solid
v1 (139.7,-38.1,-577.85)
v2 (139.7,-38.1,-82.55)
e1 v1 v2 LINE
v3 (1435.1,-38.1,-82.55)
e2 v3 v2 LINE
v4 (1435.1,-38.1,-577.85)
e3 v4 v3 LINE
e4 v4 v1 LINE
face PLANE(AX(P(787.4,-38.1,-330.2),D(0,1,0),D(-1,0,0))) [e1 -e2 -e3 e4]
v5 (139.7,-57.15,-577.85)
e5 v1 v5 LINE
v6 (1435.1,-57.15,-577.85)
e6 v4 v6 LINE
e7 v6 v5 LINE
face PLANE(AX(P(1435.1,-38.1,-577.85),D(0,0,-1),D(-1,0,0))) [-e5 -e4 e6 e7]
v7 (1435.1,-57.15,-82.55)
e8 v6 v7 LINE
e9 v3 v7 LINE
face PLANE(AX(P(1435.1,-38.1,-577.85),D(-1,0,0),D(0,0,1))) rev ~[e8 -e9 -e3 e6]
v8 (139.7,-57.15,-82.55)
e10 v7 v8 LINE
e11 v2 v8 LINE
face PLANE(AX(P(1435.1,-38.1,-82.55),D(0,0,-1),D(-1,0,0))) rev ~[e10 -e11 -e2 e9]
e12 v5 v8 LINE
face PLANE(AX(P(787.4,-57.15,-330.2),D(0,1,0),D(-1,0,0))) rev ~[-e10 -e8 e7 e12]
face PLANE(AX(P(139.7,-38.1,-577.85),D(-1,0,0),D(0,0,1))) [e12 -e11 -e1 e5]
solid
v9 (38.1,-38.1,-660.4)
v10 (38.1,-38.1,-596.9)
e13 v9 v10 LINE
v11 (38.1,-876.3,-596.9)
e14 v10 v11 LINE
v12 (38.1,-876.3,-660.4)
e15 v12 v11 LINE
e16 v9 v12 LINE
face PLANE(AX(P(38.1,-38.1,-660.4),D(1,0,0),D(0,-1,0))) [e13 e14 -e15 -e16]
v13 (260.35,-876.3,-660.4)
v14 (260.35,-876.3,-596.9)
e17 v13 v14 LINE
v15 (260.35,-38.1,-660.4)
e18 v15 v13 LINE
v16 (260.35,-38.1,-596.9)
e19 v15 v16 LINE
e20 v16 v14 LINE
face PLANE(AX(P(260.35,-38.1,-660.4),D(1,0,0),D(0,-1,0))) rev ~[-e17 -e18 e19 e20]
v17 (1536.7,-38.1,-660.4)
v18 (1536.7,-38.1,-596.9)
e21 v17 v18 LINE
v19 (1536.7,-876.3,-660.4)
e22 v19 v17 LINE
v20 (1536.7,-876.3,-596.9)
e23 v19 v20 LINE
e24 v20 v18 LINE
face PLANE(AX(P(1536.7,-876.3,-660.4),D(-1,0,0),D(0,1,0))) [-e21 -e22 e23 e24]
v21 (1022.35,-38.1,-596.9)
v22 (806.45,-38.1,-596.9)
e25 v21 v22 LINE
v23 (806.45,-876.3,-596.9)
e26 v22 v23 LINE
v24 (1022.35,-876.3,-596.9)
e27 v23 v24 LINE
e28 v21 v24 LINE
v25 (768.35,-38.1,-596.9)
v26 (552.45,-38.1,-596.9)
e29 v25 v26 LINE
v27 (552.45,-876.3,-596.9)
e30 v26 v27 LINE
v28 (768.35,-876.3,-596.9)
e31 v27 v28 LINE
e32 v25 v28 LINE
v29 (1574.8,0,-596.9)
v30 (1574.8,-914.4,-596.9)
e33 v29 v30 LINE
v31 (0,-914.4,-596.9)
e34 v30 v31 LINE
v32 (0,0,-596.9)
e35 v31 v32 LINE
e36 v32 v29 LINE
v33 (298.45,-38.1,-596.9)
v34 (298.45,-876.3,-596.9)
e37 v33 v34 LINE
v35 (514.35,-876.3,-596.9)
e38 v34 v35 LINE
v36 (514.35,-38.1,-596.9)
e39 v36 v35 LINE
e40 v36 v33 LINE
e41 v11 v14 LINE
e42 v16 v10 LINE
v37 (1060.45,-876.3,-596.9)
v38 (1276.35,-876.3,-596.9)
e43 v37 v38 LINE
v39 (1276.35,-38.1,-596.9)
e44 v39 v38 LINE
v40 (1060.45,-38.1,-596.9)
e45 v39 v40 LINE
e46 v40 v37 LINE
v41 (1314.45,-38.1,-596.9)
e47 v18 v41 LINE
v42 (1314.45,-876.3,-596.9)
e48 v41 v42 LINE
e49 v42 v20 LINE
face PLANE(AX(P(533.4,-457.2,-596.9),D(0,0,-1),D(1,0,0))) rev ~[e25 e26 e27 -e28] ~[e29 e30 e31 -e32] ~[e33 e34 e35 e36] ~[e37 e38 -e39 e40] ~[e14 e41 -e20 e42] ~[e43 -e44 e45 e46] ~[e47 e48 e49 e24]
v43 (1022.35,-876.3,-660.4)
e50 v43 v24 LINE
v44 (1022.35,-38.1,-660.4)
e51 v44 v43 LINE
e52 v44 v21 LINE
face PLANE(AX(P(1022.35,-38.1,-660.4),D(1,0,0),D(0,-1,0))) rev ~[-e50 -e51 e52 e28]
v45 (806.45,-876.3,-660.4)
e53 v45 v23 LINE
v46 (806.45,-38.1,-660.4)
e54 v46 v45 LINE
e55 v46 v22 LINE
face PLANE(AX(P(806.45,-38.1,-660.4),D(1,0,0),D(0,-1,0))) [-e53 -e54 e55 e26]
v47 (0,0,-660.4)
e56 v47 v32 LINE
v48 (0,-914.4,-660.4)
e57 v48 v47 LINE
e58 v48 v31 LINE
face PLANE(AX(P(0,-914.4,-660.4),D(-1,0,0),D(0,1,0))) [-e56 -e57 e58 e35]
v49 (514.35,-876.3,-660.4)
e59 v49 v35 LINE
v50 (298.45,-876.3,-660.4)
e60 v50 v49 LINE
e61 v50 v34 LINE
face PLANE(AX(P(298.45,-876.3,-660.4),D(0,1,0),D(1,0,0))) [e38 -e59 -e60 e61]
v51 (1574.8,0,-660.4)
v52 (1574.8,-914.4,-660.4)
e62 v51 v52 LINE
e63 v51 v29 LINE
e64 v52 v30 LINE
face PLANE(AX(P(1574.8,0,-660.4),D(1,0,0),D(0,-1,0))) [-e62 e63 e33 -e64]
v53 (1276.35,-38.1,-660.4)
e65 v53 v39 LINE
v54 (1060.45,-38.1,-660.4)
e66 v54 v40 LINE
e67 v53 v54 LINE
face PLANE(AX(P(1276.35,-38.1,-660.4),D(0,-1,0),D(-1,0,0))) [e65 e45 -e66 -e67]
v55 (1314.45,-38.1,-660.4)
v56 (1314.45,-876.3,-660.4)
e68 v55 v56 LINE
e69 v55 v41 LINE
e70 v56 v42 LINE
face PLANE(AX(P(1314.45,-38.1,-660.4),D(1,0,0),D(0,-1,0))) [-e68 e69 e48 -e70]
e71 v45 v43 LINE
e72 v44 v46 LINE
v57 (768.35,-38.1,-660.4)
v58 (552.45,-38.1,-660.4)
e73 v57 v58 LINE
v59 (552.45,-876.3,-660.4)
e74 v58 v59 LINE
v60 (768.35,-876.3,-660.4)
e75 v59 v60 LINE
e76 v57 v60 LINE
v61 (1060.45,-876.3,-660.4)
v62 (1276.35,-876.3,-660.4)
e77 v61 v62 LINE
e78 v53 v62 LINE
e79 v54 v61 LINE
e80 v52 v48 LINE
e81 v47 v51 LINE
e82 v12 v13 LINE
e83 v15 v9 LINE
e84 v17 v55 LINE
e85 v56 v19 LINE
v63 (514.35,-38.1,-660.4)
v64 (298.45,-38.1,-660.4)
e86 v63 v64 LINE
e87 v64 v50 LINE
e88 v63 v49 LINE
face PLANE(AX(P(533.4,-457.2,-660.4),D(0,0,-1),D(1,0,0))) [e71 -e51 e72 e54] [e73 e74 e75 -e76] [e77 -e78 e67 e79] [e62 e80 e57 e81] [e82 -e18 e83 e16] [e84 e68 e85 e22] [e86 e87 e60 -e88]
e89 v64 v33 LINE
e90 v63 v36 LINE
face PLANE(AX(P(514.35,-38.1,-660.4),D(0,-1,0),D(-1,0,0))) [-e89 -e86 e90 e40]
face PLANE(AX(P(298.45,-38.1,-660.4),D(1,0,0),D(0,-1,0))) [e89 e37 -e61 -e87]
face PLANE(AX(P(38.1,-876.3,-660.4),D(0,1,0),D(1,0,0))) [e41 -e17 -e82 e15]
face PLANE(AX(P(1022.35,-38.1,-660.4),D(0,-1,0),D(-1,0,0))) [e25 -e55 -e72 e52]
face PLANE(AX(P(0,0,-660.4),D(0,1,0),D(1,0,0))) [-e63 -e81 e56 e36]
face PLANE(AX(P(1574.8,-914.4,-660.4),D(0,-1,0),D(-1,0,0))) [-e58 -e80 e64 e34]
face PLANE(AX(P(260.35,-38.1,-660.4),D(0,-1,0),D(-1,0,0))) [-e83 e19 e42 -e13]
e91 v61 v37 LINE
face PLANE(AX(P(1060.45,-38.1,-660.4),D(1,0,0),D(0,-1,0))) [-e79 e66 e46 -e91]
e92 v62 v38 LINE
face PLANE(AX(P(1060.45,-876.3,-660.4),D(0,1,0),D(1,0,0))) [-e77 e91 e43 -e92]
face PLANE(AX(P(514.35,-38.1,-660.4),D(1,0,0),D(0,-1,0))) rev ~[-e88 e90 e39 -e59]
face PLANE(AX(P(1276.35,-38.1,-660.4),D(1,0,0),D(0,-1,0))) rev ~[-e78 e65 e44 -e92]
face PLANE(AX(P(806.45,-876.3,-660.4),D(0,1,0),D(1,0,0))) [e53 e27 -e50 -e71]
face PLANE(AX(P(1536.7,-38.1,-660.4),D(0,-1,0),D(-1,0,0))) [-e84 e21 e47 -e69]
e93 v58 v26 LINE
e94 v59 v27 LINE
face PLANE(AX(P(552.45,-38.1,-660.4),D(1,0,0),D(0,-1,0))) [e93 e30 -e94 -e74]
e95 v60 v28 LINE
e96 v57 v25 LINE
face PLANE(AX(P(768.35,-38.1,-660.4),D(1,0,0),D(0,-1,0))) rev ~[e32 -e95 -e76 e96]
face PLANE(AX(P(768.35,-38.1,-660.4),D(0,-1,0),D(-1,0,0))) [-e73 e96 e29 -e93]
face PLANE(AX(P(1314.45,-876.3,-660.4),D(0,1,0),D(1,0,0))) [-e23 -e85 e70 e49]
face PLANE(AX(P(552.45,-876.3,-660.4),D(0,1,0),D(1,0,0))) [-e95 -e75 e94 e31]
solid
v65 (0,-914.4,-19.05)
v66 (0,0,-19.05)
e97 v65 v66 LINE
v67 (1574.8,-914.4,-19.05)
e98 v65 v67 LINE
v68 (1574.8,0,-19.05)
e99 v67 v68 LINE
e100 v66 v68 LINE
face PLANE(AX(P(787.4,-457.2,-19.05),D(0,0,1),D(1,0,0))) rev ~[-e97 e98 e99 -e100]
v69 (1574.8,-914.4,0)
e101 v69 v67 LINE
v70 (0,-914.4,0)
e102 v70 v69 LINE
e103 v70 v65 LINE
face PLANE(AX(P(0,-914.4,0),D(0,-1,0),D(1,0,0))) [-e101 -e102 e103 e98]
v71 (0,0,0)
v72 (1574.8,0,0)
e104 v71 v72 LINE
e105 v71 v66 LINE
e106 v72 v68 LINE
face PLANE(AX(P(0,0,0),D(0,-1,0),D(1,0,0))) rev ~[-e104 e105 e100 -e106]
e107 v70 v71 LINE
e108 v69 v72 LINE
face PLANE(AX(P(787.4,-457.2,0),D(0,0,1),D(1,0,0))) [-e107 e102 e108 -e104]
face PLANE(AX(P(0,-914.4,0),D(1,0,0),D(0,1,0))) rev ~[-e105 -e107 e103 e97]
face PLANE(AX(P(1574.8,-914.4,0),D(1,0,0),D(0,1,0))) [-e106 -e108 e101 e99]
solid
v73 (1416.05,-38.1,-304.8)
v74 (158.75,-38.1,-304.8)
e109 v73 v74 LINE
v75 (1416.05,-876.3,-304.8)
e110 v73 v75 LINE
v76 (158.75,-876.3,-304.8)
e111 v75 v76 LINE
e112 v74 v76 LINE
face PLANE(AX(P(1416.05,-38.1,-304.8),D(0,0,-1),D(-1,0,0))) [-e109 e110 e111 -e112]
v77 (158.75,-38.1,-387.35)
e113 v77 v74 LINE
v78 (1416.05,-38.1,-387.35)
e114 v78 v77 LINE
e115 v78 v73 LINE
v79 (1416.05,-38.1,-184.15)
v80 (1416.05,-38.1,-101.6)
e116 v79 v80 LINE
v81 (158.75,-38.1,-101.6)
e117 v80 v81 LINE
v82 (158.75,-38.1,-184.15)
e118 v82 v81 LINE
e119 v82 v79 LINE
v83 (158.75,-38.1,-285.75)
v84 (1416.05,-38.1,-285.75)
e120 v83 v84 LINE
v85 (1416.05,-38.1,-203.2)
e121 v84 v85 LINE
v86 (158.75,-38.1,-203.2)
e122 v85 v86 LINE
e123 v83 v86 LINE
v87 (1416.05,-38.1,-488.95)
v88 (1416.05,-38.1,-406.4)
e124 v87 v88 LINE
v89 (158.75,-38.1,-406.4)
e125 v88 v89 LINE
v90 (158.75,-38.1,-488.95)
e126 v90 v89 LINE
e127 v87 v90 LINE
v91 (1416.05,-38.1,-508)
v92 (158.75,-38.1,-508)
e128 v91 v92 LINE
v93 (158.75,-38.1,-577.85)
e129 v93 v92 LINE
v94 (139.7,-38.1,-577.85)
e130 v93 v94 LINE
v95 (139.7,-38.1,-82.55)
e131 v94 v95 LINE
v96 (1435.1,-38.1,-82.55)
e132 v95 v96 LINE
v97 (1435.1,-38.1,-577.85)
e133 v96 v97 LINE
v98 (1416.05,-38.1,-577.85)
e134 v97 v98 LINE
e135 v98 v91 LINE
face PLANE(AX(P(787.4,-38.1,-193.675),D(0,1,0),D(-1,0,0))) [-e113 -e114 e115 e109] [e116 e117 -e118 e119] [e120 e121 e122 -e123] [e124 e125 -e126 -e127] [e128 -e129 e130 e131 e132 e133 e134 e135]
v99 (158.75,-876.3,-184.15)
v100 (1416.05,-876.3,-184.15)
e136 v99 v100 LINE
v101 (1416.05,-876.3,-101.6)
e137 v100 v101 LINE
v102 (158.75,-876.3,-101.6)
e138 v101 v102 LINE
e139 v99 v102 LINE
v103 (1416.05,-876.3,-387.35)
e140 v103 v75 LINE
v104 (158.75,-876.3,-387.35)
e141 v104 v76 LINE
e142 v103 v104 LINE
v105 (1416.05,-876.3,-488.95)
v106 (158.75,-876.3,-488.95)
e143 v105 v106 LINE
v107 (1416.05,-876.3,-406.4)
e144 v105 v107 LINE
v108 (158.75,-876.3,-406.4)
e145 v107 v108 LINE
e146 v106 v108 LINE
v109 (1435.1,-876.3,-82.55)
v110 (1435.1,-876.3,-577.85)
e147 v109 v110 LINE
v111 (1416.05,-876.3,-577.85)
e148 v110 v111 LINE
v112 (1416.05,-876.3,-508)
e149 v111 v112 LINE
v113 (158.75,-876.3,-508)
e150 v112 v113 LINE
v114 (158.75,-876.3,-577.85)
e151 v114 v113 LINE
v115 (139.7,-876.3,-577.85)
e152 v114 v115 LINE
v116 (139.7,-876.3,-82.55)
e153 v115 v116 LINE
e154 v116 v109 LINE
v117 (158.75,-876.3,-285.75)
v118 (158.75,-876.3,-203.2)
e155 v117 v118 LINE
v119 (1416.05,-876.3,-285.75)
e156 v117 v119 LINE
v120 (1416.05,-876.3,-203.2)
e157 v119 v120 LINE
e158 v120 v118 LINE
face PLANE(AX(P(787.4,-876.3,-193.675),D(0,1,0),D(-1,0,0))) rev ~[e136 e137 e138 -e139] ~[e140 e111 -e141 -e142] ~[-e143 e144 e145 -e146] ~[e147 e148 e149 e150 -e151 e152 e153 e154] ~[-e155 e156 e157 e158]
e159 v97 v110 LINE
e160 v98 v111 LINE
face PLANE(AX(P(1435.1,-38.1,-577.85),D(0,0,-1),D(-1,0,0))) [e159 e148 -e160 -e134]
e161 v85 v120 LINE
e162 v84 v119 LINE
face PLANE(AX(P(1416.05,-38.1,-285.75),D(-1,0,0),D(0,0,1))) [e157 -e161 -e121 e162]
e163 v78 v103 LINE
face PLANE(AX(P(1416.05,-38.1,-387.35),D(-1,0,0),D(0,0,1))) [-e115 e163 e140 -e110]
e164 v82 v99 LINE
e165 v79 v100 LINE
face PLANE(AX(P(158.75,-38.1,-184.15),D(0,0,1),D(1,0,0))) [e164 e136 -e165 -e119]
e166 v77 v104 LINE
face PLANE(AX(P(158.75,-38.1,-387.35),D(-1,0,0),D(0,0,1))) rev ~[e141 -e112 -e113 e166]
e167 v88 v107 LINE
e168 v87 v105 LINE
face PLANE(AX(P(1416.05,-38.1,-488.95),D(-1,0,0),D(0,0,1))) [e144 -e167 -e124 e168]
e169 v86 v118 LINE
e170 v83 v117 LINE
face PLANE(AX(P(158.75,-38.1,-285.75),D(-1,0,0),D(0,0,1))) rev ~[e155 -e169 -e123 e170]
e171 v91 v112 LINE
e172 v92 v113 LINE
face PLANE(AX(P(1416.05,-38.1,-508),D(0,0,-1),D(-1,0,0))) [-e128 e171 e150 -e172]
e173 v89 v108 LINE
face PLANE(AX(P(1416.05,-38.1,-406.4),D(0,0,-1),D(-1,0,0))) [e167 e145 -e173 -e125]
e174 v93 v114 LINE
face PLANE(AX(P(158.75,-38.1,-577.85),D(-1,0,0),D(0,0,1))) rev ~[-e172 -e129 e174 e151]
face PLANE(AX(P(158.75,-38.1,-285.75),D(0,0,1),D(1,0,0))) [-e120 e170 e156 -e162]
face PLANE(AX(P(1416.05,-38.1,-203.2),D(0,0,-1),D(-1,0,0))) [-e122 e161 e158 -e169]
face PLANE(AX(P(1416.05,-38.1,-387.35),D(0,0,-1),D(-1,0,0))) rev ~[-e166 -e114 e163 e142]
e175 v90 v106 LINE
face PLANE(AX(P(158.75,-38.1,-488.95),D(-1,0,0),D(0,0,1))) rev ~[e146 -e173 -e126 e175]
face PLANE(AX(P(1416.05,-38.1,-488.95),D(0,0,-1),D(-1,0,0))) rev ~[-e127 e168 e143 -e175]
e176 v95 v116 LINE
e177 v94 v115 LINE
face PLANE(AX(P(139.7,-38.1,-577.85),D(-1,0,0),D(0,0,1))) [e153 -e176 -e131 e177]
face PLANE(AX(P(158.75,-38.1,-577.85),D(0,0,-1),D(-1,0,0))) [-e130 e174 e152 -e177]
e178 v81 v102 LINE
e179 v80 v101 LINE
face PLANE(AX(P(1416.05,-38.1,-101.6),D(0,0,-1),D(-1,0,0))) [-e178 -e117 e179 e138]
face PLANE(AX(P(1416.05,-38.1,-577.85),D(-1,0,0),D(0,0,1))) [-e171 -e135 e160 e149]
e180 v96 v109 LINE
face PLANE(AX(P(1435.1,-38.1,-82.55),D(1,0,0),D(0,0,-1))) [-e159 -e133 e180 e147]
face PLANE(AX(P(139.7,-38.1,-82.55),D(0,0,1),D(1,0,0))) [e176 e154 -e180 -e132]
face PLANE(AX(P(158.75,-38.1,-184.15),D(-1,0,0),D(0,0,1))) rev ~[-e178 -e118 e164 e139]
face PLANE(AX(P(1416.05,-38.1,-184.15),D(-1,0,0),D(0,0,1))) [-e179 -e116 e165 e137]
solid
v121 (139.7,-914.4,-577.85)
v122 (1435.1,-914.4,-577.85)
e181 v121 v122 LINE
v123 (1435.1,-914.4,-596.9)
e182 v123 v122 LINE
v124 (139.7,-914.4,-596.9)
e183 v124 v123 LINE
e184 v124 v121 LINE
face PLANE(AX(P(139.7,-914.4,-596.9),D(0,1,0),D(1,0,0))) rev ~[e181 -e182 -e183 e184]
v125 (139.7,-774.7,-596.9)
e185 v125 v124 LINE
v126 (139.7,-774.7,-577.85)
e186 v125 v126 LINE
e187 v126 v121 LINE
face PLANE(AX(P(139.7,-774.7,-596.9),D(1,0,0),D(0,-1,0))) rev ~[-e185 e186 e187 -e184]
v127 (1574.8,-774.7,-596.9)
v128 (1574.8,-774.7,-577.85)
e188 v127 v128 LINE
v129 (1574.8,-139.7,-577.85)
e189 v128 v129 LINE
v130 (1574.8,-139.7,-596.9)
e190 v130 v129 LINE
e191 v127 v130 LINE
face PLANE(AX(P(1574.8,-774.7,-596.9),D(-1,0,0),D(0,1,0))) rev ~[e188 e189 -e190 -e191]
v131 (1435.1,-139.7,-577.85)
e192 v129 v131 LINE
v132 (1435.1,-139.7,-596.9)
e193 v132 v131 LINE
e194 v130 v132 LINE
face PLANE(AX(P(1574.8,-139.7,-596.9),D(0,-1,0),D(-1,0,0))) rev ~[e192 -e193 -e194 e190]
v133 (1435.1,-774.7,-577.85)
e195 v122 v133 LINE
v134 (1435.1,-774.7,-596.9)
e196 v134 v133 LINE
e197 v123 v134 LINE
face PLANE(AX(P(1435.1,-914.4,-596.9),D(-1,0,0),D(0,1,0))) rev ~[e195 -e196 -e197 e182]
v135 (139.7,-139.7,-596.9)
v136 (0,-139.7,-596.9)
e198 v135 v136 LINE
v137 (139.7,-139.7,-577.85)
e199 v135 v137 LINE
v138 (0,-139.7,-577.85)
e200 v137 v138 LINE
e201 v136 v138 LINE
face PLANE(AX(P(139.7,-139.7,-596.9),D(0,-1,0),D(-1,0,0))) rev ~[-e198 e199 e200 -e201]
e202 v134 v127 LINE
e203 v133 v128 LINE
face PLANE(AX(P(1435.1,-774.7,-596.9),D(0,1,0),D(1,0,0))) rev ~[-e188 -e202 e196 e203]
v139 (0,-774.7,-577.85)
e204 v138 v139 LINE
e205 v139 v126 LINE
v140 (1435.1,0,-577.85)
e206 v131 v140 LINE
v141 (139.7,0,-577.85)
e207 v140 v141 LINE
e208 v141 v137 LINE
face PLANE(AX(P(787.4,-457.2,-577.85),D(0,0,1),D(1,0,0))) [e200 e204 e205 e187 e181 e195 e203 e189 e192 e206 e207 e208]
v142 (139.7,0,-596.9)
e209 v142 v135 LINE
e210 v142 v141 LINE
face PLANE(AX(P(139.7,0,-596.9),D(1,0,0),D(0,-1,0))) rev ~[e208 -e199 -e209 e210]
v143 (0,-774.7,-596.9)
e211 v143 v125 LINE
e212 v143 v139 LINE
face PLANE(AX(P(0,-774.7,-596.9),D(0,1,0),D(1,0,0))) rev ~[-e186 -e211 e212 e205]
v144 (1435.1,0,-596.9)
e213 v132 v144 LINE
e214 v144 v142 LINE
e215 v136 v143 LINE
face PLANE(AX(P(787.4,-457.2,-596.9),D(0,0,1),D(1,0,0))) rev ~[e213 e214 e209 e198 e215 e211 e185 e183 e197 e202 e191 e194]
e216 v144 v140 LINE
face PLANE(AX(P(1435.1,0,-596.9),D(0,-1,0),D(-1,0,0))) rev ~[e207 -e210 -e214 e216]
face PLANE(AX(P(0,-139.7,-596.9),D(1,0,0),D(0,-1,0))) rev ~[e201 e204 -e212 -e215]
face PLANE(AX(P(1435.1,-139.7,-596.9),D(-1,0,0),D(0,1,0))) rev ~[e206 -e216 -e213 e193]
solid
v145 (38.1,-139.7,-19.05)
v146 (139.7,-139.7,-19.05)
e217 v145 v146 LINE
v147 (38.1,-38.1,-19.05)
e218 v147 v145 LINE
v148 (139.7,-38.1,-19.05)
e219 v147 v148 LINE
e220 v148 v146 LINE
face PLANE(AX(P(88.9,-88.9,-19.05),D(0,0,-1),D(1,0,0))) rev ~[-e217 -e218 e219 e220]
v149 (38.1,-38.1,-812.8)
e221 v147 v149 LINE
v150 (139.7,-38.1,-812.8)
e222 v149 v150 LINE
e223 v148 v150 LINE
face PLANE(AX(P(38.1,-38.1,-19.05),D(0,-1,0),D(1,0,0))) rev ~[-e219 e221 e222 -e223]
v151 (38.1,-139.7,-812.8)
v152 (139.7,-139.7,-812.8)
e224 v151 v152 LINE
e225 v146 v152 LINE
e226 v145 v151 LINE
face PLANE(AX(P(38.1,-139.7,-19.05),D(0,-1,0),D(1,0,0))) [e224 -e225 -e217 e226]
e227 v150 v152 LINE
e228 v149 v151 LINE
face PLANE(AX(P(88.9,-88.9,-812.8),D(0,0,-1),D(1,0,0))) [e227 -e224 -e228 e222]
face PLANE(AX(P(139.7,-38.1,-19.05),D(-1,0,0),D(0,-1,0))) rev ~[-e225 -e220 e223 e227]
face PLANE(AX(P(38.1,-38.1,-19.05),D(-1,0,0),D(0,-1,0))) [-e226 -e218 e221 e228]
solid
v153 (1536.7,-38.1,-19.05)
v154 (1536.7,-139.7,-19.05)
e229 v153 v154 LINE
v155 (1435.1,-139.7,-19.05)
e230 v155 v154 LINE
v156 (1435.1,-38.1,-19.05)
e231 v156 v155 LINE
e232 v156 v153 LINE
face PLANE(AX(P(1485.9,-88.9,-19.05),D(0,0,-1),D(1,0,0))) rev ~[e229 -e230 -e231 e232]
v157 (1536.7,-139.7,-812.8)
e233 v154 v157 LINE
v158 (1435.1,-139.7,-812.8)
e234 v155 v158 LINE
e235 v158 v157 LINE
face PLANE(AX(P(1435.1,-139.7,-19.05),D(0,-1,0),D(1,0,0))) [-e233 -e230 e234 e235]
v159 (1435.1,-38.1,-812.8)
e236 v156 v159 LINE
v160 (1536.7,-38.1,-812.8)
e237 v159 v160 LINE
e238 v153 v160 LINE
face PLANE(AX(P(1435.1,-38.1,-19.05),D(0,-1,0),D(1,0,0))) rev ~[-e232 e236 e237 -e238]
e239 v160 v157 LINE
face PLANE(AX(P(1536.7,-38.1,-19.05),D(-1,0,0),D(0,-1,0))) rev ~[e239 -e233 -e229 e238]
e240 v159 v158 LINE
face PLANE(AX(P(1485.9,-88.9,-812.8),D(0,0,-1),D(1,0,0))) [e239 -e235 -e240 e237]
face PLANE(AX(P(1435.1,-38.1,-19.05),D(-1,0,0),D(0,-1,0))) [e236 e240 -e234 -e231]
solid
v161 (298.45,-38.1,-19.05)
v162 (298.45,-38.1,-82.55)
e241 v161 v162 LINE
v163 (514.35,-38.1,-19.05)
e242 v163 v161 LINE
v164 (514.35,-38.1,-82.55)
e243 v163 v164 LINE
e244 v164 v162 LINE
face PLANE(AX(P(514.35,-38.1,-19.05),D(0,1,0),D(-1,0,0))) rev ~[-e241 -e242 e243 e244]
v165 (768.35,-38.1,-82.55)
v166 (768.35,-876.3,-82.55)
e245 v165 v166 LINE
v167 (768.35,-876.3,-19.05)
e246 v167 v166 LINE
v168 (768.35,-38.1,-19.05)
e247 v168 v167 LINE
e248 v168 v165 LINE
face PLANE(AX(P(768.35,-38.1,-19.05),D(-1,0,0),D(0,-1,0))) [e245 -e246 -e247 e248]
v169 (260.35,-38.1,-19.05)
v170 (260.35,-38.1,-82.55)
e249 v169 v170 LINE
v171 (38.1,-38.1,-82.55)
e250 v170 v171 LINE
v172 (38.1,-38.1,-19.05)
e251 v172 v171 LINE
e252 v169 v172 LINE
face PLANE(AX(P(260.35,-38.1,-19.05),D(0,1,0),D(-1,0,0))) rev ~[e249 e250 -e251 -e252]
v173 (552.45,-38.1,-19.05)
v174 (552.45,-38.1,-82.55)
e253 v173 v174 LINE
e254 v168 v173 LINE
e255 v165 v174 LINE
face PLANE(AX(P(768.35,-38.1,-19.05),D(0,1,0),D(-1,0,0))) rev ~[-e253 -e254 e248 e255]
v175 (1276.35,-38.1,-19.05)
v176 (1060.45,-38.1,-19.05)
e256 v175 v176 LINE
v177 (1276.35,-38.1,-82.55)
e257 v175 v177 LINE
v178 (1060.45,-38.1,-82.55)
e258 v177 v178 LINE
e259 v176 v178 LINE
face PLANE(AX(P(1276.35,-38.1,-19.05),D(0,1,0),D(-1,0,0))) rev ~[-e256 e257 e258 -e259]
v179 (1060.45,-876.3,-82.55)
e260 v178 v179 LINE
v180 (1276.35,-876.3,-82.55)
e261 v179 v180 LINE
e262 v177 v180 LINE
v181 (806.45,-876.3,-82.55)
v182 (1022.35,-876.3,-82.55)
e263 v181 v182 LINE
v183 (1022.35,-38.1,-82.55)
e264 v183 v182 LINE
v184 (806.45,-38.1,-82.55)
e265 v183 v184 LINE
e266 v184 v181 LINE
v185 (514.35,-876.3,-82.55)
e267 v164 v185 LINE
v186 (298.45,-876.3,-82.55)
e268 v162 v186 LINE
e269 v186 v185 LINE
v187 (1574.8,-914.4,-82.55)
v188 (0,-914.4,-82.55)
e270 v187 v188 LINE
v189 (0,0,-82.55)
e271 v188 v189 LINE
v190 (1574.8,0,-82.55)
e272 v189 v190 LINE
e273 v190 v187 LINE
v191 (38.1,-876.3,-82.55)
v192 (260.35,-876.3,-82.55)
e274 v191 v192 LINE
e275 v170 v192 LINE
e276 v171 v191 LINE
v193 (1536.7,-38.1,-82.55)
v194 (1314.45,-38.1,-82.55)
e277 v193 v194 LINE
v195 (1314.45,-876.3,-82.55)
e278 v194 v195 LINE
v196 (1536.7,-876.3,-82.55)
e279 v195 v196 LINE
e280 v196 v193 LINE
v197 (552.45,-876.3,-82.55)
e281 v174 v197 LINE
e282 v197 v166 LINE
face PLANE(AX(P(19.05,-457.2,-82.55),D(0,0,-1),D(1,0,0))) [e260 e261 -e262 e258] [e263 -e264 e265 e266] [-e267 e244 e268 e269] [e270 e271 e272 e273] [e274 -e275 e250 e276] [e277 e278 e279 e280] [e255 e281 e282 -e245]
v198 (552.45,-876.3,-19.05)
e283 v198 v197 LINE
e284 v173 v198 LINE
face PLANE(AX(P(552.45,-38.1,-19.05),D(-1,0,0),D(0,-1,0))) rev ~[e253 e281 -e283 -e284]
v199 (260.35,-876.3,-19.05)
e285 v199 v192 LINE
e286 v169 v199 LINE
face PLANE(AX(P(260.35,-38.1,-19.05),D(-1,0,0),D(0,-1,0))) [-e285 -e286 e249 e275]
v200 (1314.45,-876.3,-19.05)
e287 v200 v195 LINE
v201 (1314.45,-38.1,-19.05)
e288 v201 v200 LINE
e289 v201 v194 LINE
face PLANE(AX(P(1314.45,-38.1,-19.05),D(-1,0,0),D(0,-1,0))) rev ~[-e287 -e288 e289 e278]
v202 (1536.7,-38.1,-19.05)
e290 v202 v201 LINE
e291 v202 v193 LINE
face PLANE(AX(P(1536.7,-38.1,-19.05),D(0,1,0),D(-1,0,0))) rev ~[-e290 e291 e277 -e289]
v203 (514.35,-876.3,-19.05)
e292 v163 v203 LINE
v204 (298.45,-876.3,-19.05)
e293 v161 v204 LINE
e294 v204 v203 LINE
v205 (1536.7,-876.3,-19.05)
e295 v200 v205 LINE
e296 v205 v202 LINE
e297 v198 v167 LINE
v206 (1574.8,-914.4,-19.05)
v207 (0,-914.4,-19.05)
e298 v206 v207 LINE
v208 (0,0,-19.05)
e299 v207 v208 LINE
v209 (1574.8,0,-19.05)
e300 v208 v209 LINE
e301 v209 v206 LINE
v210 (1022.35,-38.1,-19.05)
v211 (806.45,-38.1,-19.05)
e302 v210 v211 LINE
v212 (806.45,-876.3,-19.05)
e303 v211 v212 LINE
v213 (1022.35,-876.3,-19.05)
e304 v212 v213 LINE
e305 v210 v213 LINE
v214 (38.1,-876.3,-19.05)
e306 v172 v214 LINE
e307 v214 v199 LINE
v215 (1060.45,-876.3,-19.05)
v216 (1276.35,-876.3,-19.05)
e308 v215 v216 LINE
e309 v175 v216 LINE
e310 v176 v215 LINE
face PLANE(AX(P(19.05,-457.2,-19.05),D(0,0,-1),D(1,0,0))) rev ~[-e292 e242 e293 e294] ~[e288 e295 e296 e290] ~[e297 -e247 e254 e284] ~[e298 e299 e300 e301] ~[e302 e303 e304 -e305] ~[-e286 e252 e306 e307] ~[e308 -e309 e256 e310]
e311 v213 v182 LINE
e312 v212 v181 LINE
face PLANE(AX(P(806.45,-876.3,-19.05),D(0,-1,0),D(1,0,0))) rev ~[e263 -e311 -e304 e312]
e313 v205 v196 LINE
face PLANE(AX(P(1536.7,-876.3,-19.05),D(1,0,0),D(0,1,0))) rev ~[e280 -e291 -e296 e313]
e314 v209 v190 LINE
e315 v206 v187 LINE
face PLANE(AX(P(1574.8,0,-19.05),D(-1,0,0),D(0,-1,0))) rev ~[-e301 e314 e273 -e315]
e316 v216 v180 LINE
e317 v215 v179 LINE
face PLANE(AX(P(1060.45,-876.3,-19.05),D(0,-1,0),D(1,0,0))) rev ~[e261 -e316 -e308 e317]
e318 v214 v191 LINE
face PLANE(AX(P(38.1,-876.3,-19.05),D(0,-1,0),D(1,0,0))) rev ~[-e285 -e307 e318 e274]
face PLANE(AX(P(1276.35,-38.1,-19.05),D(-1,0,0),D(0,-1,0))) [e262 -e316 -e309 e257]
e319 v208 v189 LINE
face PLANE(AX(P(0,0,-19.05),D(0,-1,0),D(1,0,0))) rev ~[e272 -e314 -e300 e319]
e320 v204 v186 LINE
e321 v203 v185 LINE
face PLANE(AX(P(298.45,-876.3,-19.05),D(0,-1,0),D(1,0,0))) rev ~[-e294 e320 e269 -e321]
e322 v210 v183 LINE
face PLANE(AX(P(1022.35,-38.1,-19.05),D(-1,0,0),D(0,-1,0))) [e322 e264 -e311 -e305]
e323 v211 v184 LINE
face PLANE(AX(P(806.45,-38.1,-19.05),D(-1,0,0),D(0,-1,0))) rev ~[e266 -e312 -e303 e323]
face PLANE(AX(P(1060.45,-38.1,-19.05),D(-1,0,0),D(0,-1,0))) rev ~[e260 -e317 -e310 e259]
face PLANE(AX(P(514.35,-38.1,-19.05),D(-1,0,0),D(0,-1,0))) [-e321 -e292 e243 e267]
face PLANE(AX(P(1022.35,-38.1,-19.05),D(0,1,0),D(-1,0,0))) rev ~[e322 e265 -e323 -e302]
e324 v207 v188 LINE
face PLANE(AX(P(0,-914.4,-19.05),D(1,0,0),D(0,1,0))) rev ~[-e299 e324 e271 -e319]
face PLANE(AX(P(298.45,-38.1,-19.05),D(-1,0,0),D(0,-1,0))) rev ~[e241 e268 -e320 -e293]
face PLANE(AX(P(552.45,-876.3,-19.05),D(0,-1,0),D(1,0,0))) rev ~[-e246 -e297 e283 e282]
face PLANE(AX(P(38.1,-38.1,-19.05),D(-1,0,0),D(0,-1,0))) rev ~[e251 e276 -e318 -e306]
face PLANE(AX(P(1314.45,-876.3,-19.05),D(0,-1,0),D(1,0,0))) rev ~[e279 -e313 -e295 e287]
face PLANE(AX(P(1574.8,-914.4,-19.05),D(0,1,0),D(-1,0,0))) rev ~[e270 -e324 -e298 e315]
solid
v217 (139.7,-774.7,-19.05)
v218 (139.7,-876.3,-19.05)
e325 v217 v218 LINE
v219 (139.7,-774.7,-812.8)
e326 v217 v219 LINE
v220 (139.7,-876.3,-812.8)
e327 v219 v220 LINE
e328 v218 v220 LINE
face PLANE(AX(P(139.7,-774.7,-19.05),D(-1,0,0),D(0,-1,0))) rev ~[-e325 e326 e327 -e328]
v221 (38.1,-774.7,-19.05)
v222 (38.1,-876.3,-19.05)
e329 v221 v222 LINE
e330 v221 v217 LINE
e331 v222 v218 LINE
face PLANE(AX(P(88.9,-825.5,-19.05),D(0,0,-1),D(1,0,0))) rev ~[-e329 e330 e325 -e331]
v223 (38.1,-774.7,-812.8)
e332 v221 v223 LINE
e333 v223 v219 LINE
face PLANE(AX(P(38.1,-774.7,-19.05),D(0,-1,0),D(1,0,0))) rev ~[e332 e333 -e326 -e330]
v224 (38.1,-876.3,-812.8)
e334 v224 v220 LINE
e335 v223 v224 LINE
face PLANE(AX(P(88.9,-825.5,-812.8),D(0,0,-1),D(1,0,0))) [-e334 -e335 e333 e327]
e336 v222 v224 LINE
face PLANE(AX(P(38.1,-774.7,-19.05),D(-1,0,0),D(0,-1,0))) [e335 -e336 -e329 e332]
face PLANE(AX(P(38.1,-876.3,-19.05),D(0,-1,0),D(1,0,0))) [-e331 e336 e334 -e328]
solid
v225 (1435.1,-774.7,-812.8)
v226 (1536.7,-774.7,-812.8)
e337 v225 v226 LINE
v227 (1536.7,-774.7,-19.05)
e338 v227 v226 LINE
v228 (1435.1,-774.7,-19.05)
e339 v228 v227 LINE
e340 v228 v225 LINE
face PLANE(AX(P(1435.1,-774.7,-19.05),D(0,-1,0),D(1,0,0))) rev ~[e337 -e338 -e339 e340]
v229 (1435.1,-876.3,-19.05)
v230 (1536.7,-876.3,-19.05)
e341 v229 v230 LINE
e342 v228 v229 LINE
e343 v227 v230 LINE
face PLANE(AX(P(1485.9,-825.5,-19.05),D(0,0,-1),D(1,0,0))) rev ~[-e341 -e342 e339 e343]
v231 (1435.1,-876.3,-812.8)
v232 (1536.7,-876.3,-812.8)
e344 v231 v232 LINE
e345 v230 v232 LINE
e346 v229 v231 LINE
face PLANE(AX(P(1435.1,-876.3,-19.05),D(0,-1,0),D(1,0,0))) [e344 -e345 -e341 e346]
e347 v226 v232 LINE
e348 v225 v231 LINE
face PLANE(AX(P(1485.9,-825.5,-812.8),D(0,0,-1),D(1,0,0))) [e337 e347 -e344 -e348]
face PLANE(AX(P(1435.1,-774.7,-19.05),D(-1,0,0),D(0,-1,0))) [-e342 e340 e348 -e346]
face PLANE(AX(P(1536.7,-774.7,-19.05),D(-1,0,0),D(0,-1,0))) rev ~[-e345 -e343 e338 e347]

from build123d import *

# Parameters (mm, degrees)
F0_W      = 1574.8
F0_H      = 914.4
F1_DEPTH  = 19.05
F2_W      = 38.1
F2_H      = 838.2
F3_DEPTH  = 63.5
F4_W      = 101.6
F4_H      = 101.6
F5_DEPTH  = 793.75
F7_W      = 38.1
F7_H      = 838.2
F8_DEPTH  = 63.5
F11_DEPTH = 19.05
F13_W     = 1257.3
F13_H     = 19.05
F13_W_2   = 19.05
F13_H_2   = 82.55
F13_H_3   = 69.85
F14_DEPTH = 838.2
F15_W     = 1295.4
F15_H     = 495.3
F16_DEPTH = 19.05


with BuildPart() as f1:
    # F0 (on Top) → F1 (new body)
    with BuildSketch(Plane.XY):
        with Locations((787.4, -457.2)):
            Rectangle(F0_W, F0_H)
    extrude(amount=-F1_DEPTH)


with BuildPart() as f3:
    # F2 (on face) → F3 (new body)
    with BuildSketch(Plane(origin=(0, 0, -19.05), x_dir=(1, 0, 0), z_dir=(0, 0, -1))):
        Polygon((38.1, 914.4), (0, 914.4), (0, 0), (38.1, 0), (38.1, 38.1), (38.1, 876.3), align=None)
        Polygon((1536.7, 914.4), (38.1, 914.4), (38.1, 876.3), (260.35, 876.3), (298.45, 876.3), (514.35, 876.3), (552.45, 876.3), (768.35, 876.3), (806.45, 876.3), (1022.35, 876.3), (1060.45, 876.3), (1276.35, 876.3), (1314.45, 876.3), (1536.7, 876.3), align=None)
        Polygon((1574.8, 914.4), (1536.7, 914.4), (1536.7, 876.3), (1536.7, 38.1), (1536.7, 0), (1574.8, 0), align=None)
        Polygon((38.1, 38.1), (38.1, 0), (1536.7, 0), (1536.7, 38.1), (1314.45, 38.1), (1276.35, 38.1), (1060.45, 38.1), (1022.35, 38.1), (806.45, 38.1), (768.35, 38.1), (552.45, 38.1), (514.35, 38.1), (298.45, 38.1), (260.35, 38.1), align=None)
        with Locations((279.4, 457.2)):
            Rectangle(F2_W, F2_H)
        with Locations((533.4, 457.2)):
            Rectangle(F2_W, F2_H)
        with Locations((787.4, 457.2)):
            Rectangle(F2_W, F2_H)
        with Locations((1041.4, 457.2)):
            Rectangle(F2_W, F2_H)
        with Locations((1295.4, 457.2)):
            Rectangle(F2_W, F2_H)
    extrude(amount=F3_DEPTH)


with BuildPart() as f5:
    # F4 (on face) → F5 (new body)
    with BuildSketch(Plane(origin=(0, 0, -19.05), x_dir=(1, 0, 0), z_dir=(0, 0, -1))):
        with Locations((88.9, 825.5)):
            Rectangle(F4_W, F4_H)
    extrude(amount=F5_DEPTH)


with BuildPart() as f5b:
    # F4 (on face) → F5, piece 2 (new body)
    with BuildSketch(Plane(origin=(0, 0, -19.05), x_dir=(1, 0, 0), z_dir=(0, 0, -1))):
        with Locations((1485.9, 825.5)):
            Rectangle(F4_W, F4_H)
    extrude(amount=F5_DEPTH)


with BuildPart() as f5c:
    # F4 (on face) → F5, piece 3 (new body)
    with BuildSketch(Plane(origin=(0, 0, -19.05), x_dir=(1, 0, 0), z_dir=(0, 0, -1))):
        with Locations((1485.9, 88.9)):
            Rectangle(F4_W, F4_H)
    extrude(amount=F5_DEPTH)


with BuildPart() as f5d:
    # F4 (on face) → F5, piece 4 (new body)
    with BuildSketch(Plane(origin=(0, 0, -19.05), x_dir=(1, 0, 0), z_dir=(0, 0, -1))):
        with Locations((88.9, 88.9)):
            Rectangle(F4_W, F4_H)
    extrude(amount=F5_DEPTH)


with BuildPart() as f8:
    # F7 (on offset) → F8 (new body)
    with BuildSketch(Plane(origin=(0, 0, -660.4), x_dir=(1, 0, 0), z_dir=(0, 0, -1))):
        with Locations((533.4, 457.2)):
            Rectangle(F7_W, F7_H)
        with Locations((787.4, 457.2)):
            Rectangle(F7_W, F7_H)
        with Locations((1041.4, 457.2)):
            Rectangle(F7_W, F7_H)
        with Locations((1295.4, 457.2)):
            Rectangle(F7_W, F7_H)
        Polygon((1574.8, 914.4), (1536.7, 914.4), (1536.7, 876.3), (1536.7, 38.1), (1536.7, 0), (1574.8, 0), align=None)
        Polygon((38.1, 38.1), (38.1, 0), (1536.7, 0), (1536.7, 38.1), (1314.45, 38.1), (1276.35, 38.1), (1060.45, 38.1), (1022.35, 38.1), (806.45, 38.1), (768.35, 38.1), (552.45, 38.1), (514.35, 38.1), (298.45, 38.1), (260.35, 38.1), align=None)
        Polygon((1536.7, 914.4), (38.1, 914.4), (38.1, 876.3), (260.35, 876.3), (298.45, 876.3), (514.35, 876.3), (552.45, 876.3), (768.35, 876.3), (806.45, 876.3), (1022.35, 876.3), (1060.45, 876.3), (1276.35, 876.3), (1314.45, 876.3), (1536.7, 876.3), align=None)
        with Locations((279.4, 457.2)):
            Rectangle(F7_W, F7_H)
        Polygon((38.1, 914.4), (0, 914.4), (0, 0), (38.1, 0), (38.1, 38.1), (38.1, 876.3), align=None)
    extrude(amount=-F8_DEPTH)


with BuildPart() as f11:
    # F10 (on face) → F11 (new body)
    with BuildSketch(Plane.XY.offset(-596.9)):
        Polygon((1435.1, 0), (139.7, 0), (139.7, -139.7), (0, -139.7), (0, -774.7), (139.7, -774.7), (139.7, -914.4), (1435.1, -914.4), (1435.1, -774.7), (1574.8, -774.7), (1574.8, -139.7), (1435.1, -139.7), align=None)
    extrude(amount=F11_DEPTH)


with BuildPart() as f14:
    # F13 (on offset) → F14 (new body)
    with BuildSketch(Plane(origin=(0, -38.1, 0), x_dir=(-1, 0, 0), z_dir=(0, 1, 0))):
        with Locations((-787.4, -193.675)):
            Rectangle(F13_W, F13_H)
        with Locations((-787.4, -295.275)):
            Rectangle(F13_W, F13_H)
        with Locations((-787.4, -396.875)):
            Rectangle(F13_W, F13_H)
        with Locations((-787.4, -498.475)):
            Rectangle(F13_W, F13_H)
        with Locations((-787.4, -92.075)):
            Rectangle(F13_W, F13_H)
        with Locations((-1425.575, -142.875)):
            Rectangle(F13_W_2, F13_H_2)
        with Locations((-1425.575, -92.075)):
            Rectangle(F13_W_2, F13_H)
        with Locations((-1425.575, -193.675)):
            Rectangle(F13_W_2, F13_H)
        with Locations((-1425.575, -244.475)):
            Rectangle(F13_W_2, F13_H_2)
        with Locations((-1425.575, -295.275)):
            Rectangle(F13_W_2, F13_H)
        with Locations((-1425.575, -346.075)):
            Rectangle(F13_W_2, F13_H_2)
        with Locations((-1425.575, -396.875)):
            Rectangle(F13_W_2, F13_H)
        with Locations((-1425.575, -447.675)):
            Rectangle(F13_W_2, F13_H_2)
        with Locations((-1425.575, -542.925)):
            Rectangle(F13_W_2, F13_H_3)
        with Locations((-1425.575, -498.475)):
            Rectangle(F13_W_2, F13_H)
        with Locations((-149.225, -542.925)):
            Rectangle(F13_W_2, F13_H_3)
        with Locations((-149.225, -447.675)):
            Rectangle(F13_W_2, F13_H_2)
        with Locations((-149.225, -346.075)):
            Rectangle(F13_W_2, F13_H_2)
        with Locations((-149.225, -498.475)):
            Rectangle(F13_W_2, F13_H)
        with Locations((-149.225, -396.875)):
            Rectangle(F13_W_2, F13_H)
        with Locations((-149.225, -295.275)):
            Rectangle(F13_W_2, F13_H)
        with Locations((-149.225, -244.475)):
            Rectangle(F13_W_2, F13_H_2)
        with Locations((-149.225, -193.675)):
            Rectangle(F13_W_2, F13_H)
        with Locations((-149.225, -142.875)):
            Rectangle(F13_W_2, F13_H_2)
        with Locations((-149.225, -92.075)):
            Rectangle(F13_W_2, F13_H)
    extrude(amount=-F14_DEPTH)


with BuildPart() as f16:
    # F15 (on face) → F16 (new body)
    with BuildSketch(Plane(origin=(0, -38.1, 0), x_dir=(-1, 0, 0), z_dir=(0, 1, 0))):
        with Locations((-787.4, -330.2)):
            Rectangle(F15_W, F15_H)
    extrude(amount=-F16_DEPTH)


solid = Compound([f1.part, f3.part, f5.part, f5b.part, f5c.part, f5d.part, f8.part, f11.part, f14.part, f16.part])
